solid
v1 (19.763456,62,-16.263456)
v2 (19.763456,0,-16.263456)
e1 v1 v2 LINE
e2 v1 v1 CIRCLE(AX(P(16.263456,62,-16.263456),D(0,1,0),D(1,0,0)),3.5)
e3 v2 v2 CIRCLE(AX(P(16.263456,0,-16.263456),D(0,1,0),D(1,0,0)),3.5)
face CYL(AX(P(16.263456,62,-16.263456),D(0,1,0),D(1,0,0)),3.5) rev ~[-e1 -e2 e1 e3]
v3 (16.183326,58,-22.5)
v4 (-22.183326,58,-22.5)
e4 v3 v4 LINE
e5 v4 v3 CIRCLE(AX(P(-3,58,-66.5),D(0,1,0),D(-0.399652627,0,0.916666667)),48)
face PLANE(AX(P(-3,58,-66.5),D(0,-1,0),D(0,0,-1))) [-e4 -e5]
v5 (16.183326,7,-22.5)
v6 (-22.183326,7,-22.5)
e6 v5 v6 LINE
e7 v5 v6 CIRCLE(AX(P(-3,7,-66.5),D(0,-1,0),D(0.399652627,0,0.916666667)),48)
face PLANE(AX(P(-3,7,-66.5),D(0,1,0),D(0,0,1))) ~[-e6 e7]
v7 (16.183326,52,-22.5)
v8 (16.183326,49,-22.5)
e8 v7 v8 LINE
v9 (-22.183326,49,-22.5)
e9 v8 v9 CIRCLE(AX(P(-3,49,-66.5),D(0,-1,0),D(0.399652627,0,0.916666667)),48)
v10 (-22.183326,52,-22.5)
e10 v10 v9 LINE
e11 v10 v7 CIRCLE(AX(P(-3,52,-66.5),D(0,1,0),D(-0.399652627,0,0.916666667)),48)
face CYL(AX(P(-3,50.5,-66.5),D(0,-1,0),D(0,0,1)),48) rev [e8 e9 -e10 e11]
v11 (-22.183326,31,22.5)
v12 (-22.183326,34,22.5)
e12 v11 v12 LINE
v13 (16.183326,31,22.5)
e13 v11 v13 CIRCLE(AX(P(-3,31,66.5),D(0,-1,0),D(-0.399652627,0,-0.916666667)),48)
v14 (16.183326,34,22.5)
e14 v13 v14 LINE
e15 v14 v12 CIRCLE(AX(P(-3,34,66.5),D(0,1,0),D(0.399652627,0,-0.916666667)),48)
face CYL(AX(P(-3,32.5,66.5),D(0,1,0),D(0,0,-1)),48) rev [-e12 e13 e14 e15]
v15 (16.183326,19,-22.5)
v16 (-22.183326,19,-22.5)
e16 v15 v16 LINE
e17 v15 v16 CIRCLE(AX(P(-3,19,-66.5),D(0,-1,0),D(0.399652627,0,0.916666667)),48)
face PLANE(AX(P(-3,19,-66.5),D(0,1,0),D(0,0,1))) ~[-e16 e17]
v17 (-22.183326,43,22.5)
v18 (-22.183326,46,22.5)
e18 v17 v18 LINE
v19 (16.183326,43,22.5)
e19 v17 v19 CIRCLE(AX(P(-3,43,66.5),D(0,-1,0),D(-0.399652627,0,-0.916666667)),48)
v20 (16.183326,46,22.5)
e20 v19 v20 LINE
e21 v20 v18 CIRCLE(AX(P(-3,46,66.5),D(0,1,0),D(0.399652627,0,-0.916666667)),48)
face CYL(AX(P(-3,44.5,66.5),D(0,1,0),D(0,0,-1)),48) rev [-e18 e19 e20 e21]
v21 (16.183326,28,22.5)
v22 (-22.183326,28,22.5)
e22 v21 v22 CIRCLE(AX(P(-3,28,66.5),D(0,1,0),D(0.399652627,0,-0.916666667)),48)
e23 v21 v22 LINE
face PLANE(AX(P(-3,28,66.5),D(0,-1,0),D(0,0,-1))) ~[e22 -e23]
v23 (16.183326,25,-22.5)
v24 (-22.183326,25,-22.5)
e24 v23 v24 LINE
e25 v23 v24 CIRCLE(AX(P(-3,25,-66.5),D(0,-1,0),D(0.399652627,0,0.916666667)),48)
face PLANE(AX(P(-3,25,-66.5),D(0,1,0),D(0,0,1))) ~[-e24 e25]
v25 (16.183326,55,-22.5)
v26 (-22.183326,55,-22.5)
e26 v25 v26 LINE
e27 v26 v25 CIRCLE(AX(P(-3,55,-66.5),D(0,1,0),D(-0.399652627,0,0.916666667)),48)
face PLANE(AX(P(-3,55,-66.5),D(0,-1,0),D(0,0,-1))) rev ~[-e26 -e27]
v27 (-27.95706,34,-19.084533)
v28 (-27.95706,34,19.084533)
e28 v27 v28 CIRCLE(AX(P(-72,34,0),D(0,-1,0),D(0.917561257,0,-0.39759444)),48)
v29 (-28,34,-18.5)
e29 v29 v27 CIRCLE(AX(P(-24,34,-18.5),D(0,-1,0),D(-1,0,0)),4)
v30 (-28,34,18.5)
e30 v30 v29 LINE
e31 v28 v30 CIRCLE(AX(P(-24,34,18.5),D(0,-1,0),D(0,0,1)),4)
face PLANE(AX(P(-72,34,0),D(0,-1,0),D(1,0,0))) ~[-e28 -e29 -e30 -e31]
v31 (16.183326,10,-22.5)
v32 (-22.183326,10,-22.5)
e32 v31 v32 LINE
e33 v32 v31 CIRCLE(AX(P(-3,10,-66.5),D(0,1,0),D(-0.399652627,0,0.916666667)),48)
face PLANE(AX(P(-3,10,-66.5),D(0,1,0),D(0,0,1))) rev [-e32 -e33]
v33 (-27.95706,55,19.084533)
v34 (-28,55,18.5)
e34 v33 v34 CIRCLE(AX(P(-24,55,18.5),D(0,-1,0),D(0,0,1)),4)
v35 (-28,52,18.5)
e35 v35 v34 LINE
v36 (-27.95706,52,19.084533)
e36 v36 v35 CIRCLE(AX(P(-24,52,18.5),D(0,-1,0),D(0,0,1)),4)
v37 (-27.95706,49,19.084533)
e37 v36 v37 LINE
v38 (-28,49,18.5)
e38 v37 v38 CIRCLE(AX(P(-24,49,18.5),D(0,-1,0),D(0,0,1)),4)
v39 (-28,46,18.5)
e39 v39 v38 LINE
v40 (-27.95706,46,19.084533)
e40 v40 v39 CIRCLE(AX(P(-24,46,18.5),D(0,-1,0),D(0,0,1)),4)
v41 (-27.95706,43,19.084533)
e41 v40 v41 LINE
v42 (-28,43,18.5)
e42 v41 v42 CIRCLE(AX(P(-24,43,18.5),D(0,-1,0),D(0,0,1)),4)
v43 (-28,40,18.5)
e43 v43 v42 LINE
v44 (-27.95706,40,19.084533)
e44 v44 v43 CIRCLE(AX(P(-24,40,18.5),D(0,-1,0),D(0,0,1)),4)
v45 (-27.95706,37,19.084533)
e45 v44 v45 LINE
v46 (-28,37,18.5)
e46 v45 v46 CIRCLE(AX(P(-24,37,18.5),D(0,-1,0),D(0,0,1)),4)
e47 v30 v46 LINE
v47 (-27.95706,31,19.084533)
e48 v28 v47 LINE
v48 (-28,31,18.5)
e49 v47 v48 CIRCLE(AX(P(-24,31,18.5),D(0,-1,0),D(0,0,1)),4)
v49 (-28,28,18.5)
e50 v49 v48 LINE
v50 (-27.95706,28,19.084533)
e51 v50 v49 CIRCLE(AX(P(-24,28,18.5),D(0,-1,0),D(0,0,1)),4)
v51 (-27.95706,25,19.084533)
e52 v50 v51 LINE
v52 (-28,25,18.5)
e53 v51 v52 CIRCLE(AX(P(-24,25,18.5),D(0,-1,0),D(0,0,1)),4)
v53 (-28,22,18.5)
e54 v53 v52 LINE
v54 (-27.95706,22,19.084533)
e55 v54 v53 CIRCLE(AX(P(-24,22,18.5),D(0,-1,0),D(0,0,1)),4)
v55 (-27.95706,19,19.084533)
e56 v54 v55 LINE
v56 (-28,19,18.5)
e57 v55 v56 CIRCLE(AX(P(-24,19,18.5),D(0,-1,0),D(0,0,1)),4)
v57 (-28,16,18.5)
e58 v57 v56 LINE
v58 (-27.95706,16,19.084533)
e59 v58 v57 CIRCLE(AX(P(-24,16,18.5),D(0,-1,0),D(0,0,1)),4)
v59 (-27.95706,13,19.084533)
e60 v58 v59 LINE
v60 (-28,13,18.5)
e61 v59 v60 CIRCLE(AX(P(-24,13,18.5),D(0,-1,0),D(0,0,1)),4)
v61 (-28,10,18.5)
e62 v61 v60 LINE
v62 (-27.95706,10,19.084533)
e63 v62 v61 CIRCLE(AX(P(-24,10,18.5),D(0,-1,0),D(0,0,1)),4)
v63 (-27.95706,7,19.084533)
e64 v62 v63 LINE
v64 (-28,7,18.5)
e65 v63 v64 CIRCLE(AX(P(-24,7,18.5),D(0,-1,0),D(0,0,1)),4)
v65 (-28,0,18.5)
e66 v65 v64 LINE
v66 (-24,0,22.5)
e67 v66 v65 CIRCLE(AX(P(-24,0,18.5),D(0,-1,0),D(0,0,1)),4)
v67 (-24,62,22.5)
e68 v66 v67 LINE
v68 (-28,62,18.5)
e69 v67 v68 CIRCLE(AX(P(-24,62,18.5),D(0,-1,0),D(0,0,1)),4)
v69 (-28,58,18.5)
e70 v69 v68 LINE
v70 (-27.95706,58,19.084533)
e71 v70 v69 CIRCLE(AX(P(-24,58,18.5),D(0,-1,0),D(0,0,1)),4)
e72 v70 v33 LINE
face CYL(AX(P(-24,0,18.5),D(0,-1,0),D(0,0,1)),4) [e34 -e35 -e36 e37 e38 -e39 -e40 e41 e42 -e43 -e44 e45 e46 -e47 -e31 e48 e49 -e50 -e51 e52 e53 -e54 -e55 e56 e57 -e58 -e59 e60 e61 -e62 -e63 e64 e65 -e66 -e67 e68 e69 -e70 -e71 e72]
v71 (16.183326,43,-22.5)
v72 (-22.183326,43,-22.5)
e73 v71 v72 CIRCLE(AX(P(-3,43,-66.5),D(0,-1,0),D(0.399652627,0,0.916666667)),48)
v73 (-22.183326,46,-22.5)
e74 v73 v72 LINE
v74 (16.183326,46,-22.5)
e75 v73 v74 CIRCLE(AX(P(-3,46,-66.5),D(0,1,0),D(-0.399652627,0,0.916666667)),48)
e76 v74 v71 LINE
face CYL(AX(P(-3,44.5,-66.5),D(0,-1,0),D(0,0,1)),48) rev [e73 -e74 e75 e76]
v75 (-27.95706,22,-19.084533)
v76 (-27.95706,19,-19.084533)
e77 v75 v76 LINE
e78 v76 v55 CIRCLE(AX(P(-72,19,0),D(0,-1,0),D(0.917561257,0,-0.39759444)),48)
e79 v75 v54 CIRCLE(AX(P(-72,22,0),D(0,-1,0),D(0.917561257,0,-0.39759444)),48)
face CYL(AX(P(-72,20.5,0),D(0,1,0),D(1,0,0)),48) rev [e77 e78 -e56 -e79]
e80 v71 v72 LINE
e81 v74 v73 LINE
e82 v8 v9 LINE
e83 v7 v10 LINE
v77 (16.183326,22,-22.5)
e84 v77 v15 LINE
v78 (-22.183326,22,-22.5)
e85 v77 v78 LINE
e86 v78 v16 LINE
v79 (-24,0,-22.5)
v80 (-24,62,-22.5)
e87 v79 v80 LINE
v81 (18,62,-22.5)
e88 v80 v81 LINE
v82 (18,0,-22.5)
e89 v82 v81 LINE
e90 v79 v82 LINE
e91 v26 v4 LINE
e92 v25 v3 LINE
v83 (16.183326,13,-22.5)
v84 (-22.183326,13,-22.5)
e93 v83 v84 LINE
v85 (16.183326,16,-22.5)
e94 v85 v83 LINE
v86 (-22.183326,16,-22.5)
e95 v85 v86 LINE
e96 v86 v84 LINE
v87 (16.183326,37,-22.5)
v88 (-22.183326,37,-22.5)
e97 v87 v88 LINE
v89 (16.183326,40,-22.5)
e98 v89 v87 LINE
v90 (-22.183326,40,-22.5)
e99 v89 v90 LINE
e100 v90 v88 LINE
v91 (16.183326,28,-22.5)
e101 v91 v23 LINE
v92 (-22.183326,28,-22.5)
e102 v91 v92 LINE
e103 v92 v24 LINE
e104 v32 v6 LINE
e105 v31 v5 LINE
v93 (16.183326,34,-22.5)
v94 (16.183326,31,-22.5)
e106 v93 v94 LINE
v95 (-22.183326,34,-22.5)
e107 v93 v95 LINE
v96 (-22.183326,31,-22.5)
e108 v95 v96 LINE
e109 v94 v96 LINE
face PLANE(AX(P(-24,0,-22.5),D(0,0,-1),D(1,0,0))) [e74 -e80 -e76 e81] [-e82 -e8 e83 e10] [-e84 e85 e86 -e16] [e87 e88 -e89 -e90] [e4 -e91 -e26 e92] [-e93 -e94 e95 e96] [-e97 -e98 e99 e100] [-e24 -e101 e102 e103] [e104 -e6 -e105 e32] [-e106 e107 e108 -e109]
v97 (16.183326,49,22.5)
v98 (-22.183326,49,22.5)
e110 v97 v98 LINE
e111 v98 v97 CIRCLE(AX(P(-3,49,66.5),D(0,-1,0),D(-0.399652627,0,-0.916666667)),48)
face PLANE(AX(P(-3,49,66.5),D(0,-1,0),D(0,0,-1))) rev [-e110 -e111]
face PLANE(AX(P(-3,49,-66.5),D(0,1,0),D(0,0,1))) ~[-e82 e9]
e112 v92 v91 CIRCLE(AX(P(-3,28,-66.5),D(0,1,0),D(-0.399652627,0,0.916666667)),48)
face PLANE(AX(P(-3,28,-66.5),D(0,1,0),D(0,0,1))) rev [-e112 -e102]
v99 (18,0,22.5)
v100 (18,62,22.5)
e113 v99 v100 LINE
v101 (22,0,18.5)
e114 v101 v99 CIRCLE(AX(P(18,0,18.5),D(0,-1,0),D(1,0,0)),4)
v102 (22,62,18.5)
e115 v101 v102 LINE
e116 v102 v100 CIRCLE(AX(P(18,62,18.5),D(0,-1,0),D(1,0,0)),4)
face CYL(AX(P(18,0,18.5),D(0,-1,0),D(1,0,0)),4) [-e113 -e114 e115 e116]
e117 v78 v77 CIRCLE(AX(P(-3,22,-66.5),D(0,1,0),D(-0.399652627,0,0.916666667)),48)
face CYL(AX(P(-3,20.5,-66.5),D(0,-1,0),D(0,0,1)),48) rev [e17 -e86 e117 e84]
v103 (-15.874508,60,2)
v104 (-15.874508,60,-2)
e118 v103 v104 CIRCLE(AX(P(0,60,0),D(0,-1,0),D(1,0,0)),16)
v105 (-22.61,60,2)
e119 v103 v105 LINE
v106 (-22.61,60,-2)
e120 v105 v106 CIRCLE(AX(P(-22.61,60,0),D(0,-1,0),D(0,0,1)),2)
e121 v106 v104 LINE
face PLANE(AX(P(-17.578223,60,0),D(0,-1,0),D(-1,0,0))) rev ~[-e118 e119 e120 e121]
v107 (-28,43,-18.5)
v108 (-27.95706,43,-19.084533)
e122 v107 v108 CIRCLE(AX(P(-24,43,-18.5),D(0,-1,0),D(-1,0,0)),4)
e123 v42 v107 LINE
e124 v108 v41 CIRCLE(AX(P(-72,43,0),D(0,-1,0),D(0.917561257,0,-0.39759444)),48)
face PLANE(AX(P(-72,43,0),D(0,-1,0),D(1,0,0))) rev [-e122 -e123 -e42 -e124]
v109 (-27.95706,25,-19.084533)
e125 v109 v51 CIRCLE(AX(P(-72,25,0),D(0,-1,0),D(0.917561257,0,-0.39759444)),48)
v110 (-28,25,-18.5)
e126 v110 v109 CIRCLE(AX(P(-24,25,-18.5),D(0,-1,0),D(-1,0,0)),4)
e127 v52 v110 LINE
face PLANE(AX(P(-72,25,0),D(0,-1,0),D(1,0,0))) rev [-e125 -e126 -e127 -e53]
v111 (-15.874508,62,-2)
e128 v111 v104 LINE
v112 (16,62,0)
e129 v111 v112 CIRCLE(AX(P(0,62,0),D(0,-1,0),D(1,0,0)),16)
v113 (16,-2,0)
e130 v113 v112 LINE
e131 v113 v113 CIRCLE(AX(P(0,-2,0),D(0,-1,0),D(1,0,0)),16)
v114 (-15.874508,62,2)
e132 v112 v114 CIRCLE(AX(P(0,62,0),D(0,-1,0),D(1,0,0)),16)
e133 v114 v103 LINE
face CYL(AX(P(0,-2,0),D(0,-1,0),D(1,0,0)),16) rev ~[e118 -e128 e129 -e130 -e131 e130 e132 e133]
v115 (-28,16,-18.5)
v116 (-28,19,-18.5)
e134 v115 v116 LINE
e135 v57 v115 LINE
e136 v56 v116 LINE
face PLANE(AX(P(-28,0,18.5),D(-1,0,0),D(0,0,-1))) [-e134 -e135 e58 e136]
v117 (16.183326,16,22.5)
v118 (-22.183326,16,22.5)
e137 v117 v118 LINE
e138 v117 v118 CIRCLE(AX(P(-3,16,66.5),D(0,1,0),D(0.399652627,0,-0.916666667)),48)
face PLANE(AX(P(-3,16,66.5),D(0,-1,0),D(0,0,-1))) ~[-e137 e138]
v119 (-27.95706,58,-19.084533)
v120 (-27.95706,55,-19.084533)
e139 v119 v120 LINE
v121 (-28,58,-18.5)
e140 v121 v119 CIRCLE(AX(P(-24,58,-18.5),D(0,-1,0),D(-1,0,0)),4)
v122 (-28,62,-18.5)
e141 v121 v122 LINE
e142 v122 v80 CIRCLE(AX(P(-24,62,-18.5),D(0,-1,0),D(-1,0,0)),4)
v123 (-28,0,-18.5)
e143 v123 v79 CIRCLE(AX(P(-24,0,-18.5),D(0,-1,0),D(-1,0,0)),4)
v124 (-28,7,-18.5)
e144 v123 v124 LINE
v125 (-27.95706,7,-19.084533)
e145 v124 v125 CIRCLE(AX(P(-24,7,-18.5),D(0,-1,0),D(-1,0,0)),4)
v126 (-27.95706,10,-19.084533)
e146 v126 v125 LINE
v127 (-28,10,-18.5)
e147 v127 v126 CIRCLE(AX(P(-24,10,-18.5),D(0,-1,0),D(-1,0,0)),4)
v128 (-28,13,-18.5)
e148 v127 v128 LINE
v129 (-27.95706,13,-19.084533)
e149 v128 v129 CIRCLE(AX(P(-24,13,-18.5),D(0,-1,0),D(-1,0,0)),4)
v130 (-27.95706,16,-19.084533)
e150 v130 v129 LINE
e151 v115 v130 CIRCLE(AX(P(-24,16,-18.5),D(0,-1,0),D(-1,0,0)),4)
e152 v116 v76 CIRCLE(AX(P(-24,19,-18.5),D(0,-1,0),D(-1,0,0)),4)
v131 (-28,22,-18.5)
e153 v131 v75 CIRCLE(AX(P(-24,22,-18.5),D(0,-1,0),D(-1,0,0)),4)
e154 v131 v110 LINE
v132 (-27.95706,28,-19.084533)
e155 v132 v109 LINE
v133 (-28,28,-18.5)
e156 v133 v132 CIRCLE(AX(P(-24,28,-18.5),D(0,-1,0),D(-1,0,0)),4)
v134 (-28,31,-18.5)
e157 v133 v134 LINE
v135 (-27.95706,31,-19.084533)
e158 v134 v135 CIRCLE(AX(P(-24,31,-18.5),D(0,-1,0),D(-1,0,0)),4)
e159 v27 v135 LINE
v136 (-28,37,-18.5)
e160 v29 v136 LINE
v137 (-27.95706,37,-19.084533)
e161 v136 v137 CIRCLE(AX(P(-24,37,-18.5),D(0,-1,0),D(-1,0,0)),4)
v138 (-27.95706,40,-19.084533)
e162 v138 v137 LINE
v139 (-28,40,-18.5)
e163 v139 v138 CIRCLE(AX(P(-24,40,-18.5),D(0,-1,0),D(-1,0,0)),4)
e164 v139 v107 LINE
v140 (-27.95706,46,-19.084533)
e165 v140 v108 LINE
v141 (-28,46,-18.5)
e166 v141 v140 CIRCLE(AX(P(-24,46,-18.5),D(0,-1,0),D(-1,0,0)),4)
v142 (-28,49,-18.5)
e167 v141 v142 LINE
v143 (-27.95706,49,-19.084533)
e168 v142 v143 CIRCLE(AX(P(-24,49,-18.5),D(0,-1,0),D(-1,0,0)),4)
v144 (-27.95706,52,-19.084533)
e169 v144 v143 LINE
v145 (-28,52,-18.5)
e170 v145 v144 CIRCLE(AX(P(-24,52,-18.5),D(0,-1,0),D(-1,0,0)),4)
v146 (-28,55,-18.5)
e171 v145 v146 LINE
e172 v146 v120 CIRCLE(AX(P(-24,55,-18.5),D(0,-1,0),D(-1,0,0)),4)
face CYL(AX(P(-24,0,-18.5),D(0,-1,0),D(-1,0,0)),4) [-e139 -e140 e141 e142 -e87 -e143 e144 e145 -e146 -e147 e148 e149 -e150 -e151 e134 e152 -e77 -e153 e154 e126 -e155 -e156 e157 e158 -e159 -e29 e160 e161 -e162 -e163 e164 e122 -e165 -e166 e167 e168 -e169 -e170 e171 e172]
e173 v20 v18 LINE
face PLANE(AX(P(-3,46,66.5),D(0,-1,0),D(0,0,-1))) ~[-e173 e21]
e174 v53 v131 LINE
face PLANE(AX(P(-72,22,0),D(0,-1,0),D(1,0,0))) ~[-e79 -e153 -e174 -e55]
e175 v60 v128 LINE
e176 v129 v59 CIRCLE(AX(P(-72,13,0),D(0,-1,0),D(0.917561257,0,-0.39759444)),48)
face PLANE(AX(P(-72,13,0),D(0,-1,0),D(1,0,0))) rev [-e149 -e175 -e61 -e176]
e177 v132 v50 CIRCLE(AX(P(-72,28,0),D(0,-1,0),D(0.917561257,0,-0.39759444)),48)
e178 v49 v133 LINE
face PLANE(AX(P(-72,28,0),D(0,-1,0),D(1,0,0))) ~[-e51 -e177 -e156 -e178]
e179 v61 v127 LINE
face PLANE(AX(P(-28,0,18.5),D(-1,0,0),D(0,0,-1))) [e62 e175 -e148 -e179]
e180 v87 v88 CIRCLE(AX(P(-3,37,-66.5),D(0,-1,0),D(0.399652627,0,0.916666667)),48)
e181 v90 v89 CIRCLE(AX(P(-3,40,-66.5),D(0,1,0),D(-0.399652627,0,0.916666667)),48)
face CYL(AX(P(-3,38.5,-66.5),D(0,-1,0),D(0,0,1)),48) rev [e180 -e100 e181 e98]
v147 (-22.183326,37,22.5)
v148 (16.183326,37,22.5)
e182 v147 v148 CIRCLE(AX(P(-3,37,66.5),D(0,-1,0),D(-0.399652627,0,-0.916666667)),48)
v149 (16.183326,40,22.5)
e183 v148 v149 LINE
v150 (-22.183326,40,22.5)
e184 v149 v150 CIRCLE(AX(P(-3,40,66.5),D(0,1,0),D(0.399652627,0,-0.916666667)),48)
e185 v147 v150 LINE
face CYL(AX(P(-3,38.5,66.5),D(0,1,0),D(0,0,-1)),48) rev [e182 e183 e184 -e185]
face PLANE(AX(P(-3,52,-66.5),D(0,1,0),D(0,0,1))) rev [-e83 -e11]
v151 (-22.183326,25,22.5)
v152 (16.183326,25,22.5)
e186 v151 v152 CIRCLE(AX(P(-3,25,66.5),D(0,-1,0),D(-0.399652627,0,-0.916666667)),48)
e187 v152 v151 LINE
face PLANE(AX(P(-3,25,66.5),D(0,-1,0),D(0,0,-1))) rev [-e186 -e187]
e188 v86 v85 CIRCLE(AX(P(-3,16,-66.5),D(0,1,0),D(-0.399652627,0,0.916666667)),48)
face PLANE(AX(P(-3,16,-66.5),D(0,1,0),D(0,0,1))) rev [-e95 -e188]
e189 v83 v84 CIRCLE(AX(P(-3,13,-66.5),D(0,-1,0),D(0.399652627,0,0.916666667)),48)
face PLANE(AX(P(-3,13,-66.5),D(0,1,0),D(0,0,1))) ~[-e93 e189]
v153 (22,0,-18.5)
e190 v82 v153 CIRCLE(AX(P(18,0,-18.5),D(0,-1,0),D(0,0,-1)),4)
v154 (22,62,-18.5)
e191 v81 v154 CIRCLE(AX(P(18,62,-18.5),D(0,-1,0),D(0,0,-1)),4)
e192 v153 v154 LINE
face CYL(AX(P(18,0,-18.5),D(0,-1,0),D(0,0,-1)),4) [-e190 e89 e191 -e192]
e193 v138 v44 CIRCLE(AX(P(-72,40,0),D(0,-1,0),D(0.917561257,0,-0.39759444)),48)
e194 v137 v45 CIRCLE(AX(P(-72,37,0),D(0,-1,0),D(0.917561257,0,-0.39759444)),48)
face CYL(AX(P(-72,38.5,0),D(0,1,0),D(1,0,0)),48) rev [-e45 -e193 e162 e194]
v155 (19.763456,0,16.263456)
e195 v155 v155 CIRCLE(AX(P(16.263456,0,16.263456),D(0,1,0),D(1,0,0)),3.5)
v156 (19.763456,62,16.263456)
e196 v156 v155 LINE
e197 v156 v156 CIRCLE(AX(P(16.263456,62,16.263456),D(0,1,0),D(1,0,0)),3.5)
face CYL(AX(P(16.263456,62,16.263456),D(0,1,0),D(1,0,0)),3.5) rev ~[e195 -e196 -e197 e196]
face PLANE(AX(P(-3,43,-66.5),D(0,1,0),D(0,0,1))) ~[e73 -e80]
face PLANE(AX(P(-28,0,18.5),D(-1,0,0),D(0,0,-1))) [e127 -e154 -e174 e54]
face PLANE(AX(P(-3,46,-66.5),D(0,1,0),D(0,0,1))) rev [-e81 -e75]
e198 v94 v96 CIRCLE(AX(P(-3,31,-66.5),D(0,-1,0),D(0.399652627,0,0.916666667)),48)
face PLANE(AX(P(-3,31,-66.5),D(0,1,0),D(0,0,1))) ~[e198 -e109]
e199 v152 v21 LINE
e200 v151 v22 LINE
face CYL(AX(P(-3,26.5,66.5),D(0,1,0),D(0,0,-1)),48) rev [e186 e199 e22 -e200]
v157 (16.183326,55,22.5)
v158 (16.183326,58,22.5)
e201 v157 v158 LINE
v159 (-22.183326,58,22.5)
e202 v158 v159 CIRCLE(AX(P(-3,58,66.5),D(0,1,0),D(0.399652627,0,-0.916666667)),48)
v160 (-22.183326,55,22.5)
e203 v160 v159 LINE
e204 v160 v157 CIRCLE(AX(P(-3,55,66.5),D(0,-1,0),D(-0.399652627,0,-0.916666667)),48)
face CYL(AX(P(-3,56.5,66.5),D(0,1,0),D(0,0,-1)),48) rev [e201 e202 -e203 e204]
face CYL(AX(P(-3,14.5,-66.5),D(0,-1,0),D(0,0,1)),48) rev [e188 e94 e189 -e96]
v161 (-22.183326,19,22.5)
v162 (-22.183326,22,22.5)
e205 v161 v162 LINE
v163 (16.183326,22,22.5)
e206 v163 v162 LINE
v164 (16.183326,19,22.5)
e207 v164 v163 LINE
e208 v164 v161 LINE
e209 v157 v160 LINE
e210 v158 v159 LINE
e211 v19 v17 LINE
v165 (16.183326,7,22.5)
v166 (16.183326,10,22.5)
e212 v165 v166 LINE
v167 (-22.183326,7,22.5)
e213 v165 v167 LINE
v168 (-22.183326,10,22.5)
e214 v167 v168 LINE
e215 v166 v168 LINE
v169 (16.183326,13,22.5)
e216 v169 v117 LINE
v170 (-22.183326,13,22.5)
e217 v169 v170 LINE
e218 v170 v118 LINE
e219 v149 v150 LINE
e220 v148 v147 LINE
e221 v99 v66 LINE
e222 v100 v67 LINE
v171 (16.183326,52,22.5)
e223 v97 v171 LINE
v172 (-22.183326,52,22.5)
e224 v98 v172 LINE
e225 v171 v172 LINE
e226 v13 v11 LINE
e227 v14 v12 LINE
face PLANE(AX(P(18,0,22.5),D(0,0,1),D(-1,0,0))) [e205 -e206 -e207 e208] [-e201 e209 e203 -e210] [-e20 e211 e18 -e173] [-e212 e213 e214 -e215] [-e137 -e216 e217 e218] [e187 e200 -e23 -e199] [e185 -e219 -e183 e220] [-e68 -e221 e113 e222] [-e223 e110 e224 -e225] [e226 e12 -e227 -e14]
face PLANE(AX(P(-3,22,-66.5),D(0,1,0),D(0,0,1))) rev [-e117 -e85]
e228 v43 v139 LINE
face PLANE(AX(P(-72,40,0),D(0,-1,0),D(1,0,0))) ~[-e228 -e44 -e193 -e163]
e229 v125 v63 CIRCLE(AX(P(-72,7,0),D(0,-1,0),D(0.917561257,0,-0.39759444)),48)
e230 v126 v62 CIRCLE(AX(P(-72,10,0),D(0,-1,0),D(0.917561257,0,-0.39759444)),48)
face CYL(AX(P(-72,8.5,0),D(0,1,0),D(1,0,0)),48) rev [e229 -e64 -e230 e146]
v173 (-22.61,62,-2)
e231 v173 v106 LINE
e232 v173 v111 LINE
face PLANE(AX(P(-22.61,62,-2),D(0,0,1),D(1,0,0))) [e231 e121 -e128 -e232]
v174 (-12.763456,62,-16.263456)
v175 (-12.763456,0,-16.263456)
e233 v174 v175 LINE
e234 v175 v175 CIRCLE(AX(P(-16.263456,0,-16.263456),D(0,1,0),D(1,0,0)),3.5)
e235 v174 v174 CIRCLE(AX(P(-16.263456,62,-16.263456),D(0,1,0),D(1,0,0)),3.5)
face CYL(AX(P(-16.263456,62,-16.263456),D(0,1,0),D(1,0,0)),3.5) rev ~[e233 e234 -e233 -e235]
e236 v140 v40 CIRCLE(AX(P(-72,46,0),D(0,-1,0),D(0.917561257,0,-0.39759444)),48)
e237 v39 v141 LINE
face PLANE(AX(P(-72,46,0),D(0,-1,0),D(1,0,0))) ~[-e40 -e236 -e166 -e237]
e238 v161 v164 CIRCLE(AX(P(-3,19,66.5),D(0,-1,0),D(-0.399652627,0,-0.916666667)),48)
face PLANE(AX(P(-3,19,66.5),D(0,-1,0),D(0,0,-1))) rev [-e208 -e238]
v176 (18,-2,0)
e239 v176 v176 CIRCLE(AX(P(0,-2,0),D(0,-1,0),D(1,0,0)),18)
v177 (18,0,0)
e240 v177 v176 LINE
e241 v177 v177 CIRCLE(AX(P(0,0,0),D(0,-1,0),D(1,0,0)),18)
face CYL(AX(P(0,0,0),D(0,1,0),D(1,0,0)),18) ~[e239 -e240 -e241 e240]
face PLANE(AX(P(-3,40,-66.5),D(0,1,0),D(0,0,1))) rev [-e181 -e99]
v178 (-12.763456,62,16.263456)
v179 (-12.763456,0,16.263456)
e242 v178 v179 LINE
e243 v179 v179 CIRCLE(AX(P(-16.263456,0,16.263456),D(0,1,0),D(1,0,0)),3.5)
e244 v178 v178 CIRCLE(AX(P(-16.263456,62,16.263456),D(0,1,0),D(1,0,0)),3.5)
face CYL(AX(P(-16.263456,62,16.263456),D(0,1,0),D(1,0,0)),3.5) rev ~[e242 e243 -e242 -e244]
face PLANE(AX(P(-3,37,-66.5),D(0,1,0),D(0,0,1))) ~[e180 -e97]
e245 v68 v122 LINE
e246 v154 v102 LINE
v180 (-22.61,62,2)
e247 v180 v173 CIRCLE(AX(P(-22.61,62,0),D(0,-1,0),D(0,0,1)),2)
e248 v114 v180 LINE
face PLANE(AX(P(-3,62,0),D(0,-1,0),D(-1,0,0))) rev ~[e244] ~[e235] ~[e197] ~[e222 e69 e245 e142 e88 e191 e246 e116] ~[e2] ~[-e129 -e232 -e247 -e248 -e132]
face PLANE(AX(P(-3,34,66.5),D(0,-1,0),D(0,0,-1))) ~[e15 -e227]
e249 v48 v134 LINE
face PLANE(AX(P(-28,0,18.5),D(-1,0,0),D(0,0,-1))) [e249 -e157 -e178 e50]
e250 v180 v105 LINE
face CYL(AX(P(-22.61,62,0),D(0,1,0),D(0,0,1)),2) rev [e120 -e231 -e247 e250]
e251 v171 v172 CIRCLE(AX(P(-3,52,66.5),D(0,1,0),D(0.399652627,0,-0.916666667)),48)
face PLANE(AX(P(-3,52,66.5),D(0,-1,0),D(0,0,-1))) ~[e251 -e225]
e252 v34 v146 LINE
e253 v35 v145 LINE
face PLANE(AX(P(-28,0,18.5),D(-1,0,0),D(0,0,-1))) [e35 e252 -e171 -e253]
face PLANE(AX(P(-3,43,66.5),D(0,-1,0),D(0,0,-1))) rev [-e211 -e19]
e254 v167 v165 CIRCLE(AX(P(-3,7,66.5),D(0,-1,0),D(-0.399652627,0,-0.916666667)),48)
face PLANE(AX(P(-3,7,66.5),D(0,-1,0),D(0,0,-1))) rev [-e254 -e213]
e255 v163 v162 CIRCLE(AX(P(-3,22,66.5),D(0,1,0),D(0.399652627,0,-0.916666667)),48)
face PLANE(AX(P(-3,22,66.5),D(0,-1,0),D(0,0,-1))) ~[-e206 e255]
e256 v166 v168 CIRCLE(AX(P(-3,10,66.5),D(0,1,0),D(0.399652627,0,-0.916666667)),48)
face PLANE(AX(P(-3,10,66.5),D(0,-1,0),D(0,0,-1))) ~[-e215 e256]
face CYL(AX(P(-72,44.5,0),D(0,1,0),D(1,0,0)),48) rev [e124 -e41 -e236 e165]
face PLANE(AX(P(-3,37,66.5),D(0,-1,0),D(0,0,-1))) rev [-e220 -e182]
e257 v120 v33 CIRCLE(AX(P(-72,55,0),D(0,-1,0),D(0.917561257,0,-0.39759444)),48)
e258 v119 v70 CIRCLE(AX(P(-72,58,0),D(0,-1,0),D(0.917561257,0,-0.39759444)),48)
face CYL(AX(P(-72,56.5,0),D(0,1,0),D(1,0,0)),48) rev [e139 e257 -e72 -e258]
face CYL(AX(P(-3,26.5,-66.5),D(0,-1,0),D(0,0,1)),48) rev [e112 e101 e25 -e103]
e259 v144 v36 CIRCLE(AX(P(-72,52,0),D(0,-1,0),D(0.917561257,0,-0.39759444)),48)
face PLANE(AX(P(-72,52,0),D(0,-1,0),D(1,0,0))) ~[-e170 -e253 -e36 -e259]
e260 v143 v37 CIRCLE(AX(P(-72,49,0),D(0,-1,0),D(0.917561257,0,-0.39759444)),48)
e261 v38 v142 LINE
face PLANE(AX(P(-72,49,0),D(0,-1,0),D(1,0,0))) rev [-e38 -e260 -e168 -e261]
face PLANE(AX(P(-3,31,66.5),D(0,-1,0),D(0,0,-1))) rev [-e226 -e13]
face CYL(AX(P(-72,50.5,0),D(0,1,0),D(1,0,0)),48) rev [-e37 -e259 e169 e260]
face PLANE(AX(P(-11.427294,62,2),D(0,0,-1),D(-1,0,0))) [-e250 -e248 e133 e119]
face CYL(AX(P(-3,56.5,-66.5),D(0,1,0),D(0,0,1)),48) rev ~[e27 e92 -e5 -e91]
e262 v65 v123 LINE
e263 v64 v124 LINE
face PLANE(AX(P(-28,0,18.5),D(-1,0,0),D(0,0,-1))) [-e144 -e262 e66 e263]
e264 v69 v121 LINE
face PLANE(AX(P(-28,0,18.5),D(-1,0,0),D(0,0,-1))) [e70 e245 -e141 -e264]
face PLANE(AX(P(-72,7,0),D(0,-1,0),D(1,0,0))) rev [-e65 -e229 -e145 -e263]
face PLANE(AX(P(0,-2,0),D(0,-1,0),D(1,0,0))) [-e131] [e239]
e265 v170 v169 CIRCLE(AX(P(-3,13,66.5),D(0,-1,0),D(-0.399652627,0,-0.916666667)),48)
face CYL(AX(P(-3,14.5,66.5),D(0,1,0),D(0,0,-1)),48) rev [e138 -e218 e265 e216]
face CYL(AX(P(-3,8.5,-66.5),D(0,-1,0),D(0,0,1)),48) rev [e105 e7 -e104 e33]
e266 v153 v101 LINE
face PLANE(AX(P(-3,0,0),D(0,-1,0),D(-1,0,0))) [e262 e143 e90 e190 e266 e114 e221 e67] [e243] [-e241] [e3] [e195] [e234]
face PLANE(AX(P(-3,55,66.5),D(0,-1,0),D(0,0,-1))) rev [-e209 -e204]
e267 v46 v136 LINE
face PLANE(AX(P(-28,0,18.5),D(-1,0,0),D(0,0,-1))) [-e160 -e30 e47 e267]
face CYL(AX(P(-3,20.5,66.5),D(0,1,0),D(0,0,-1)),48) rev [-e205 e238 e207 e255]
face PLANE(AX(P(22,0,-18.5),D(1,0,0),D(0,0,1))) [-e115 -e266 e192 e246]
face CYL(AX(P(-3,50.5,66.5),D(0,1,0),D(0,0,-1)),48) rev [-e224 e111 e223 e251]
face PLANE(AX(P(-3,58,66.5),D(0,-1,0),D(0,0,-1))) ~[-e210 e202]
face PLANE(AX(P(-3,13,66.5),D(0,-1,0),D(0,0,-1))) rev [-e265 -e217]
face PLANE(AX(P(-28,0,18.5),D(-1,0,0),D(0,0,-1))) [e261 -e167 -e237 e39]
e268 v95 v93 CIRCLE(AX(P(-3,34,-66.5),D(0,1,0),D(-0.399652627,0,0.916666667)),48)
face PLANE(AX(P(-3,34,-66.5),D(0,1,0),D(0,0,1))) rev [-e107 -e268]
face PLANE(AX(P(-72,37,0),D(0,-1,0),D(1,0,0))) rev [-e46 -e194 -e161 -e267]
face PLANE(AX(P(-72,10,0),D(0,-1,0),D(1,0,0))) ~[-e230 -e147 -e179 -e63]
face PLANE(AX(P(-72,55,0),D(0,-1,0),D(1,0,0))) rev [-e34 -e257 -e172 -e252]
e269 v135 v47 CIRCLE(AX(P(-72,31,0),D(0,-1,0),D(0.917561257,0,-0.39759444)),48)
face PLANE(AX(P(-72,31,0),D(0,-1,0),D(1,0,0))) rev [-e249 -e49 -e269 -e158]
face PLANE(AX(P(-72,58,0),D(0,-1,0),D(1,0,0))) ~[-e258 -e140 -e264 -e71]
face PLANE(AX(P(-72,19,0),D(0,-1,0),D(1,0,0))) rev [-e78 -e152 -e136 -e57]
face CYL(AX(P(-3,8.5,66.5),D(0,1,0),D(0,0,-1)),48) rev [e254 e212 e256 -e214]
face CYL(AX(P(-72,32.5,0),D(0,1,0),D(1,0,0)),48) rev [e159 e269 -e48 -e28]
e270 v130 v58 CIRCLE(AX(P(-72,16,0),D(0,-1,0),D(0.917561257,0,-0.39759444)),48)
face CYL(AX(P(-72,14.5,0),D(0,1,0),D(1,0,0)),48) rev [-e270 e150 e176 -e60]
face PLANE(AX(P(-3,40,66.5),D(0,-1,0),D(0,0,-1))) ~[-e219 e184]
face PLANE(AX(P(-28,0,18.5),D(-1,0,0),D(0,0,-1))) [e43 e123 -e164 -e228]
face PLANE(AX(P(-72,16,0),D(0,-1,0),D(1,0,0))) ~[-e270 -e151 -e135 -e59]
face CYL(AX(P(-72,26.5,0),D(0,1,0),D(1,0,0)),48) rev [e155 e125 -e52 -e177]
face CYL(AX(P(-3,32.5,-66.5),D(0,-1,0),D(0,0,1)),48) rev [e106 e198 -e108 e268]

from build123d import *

# Parameters (mm, degrees)
BOSS_EXTRUDE1_DEPTH     = 62
SKETCH2_R               = 18
BOSS_EXTRUDE2_DEPTH     = 2
SKETCH3_R               = 16
CUT_EXTRUDE1_DEPTH      = 65
CUT_EXTRUDE2_DEPTH      = 2
SKETCH6_R               = 3.5
CUT_EXTRUDE3_DEPTH      = 65
SKETCH7_W               = 48
SKETCH7_H               = 3
LPATTERN1_COUNT         = 9
LPATTERN1_PITCH         = 6
MIRROR1_COPY_1_SKETCH_W = 48
MIRROR1_COPY_1_SKETCH_H = 3
MIRROR1_COPY_2_SKETCH_W = 48
MIRROR1_COPY_2_SKETCH_H = 3
MIRROR1_COPY_3_SKETCH_W = 48
MIRROR1_COPY_3_SKETCH_H = 3
MIRROR1_COPY_4_SKETCH_W = 48
MIRROR1_COPY_4_SKETCH_H = 3
MIRROR1_COPY_5_SKETCH_W = 48
MIRROR1_COPY_5_SKETCH_H = 3
MIRROR1_COPY_6_SKETCH_W = 48
MIRROR1_COPY_6_SKETCH_H = 3
MIRROR1_COPY_7_SKETCH_W = 48
MIRROR1_COPY_7_SKETCH_H = 3
MIRROR1_COPY_8_SKETCH_W = 48
MIRROR1_COPY_8_SKETCH_H = 3
SKETCH9_W               = 48
SKETCH9_H               = 3
LPATTERN2_COUNT         = 9
LPATTERN2_PITCH         = 6


with BuildPart() as part:
    # Sketch1 → Boss-Extrude1 (new body)
    with BuildSketch(Plane(origin=(0, 0, 0), x_dir=(1, 0, 0), z_dir=(0, 1, 0))):
        with BuildLine():
            Line((-24, 22.5), (18, 22.5))
            ThreePointArc((18, 22.5), (20.828427125, 21.328427125), (22, 18.5))
            Line((22, 18.5), (22, -18.5))
            ThreePointArc((22, -18.5), (20.828427125, -21.328427125), (18, -22.5))
            Line((18, -22.5), (-24, -22.5))
            ThreePointArc((-24, -22.5), (-26.828427125, -21.328427125), (-28, -18.5))
            Line((-28, -18.5), (-28, 18.5))
            ThreePointArc((-28, 18.5), (-26.828427125, 21.328427125), (-24, 22.5))
        make_face()
    extrude(amount=BOSS_EXTRUDE1_DEPTH)

    # Sketch2 → Boss-Extrude2 (add)
    with BuildSketch(Plane.XZ):
        Circle(SKETCH2_R)
    extrude(amount=BOSS_EXTRUDE2_DEPTH)

    # Sketch3 → Cut-Extrude1 (cut, through all)
    with BuildSketch(Plane.XZ.offset(2)):
        Circle(SKETCH3_R)
    extrude(amount=-CUT_EXTRUDE1_DEPTH, mode=Mode.SUBTRACT)

    # Sketch5 → Cut-Extrude2 (cut)
    with BuildSketch(Plane(origin=(0, 62, 0), x_dir=(1, 0, 0), z_dir=(0, 1, 0))):
        with BuildLine():
            Line((-22.61, 2), (-11.427293838, 2))
            Line((-11.427293838, 2), (-11.427293838, -2))
            Line((-11.427293838, -2), (-22.61, -2))
            ThreePointArc((-22.61, -2), (-24.61, 0), (-22.61, 2))
        make_face()
    extrude(amount=-CUT_EXTRUDE2_DEPTH, mode=Mode.SUBTRACT)

    # Sketch6 → Cut-Extrude3 (cut, through all)
    with BuildSketch(Plane(origin=(0, 62, 0), x_dir=(1, 0, 0), z_dir=(0, 1, 0))):
        with Locations((16.263455967, 16.263455967)):
            Circle(SKETCH6_R)
        with Locations((16.263455967, -16.263455967)):
            Circle(SKETCH6_R)
        with Locations((-16.263455967, -16.263455967)):
            Circle(SKETCH6_R)
        with Locations((-16.263455967, 16.263455967)):
            Circle(SKETCH6_R)
    extrude(amount=-CUT_EXTRUDE3_DEPTH, mode=Mode.SUBTRACT)

    # Sketch7 → Cut-Revolve1 (revolve, cut)
    with BuildSketch(Plane(origin=(-3, 0, 0), x_dir=(0, 0, -1), z_dir=(1, 0, 0))):
        with Locations((-42.5, 56.5)):
            Rectangle(SKETCH7_W, SKETCH7_H)
    cut_revolve1 = revolve(axis=Axis((-3, 58, 66.5), (0, -1, 0)), mode=Mode.SUBTRACT)

    # LPattern1: Cut-Revolve1 ×9
    with Locations(*[(0, -i * LPATTERN1_PITCH, 0) for i in range(1, LPATTERN1_COUNT)]):
        add(cut_revolve1, mode=Mode.SUBTRACT)

    # Mirror1: Cut-Revolve1 across plane
    add(cut_revolve1.mirror(Plane.XY), mode=Mode.SUBTRACT)

    # Mirror1 copy 1 sketch → Mirror1 copy 1 (revolve, cut)
    with BuildSketch(Plane(origin=(-3, -6, 0), x_dir=(0, 0, 1), z_dir=(1, 0, 0))):
        with Locations((-42.5, -56.5)):
            Rectangle(MIRROR1_COPY_1_SKETCH_W, MIRROR1_COPY_1_SKETCH_H)
    revolve(axis=Axis((-3, 52, -66.5), (0, 1, 0)), mode=Mode.SUBTRACT)

    # Mirror1 copy 2 sketch → Mirror1 copy 2 (revolve, cut)
    with BuildSketch(Plane(origin=(-3, -12, 0), x_dir=(0, 0, 1), z_dir=(1, 0, 0))):
        with Locations((-42.5, -56.5)):
            Rectangle(MIRROR1_COPY_2_SKETCH_W, MIRROR1_COPY_2_SKETCH_H)
    revolve(axis=Axis((-3, 46, -66.5), (0, 1, 0)), mode=Mode.SUBTRACT)

    # Mirror1 copy 3 sketch → Mirror1 copy 3 (revolve, cut)
    with BuildSketch(Plane(origin=(-3, -18, 0), x_dir=(0, 0, 1), z_dir=(1, 0, 0))):
        with Locations((-42.5, -56.5)):
            Rectangle(MIRROR1_COPY_3_SKETCH_W, MIRROR1_COPY_3_SKETCH_H)
    revolve(axis=Axis((-3, 40, -66.5), (0, 1, 0)), mode=Mode.SUBTRACT)

    # Mirror1 copy 4 sketch → Mirror1 copy 4 (revolve, cut)
    with BuildSketch(Plane(origin=(-3, -24, 0), x_dir=(0, 0, 1), z_dir=(1, 0, 0))):
        with Locations((-42.5, -56.5)):
            Rectangle(MIRROR1_COPY_4_SKETCH_W, MIRROR1_COPY_4_SKETCH_H)
    revolve(axis=Axis((-3, 34, -66.5), (0, 1, 0)), mode=Mode.SUBTRACT)

    # Mirror1 copy 5 sketch → Mirror1 copy 5 (revolve, cut)
    with BuildSketch(Plane(origin=(-3, -30, 0), x_dir=(0, 0, 1), z_dir=(1, 0, 0))):
        with Locations((-42.5, -56.5)):
            Rectangle(MIRROR1_COPY_5_SKETCH_W, MIRROR1_COPY_5_SKETCH_H)
    revolve(axis=Axis((-3, 28, -66.5), (0, 1, 0)), mode=Mode.SUBTRACT)

    # Mirror1 copy 6 sketch → Mirror1 copy 6 (revolve, cut)
    with BuildSketch(Plane(origin=(-3, -36, 0), x_dir=(0, 0, 1), z_dir=(1, 0, 0))):
        with Locations((-42.5, -56.5)):
            Rectangle(MIRROR1_COPY_6_SKETCH_W, MIRROR1_COPY_6_SKETCH_H)
    revolve(axis=Axis((-3, 22, -66.5), (0, 1, 0)), mode=Mode.SUBTRACT)

    # Mirror1 copy 7 sketch → Mirror1 copy 7 (revolve, cut)
    with BuildSketch(Plane(origin=(-3, -42, 0), x_dir=(0, 0, 1), z_dir=(1, 0, 0))):
        with Locations((-42.5, -56.5)):
            Rectangle(MIRROR1_COPY_7_SKETCH_W, MIRROR1_COPY_7_SKETCH_H)
    revolve(axis=Axis((-3, 16, -66.5), (0, 1, 0)), mode=Mode.SUBTRACT)

    # Mirror1 copy 8 sketch → Mirror1 copy 8 (revolve, cut)
    with BuildSketch(Plane(origin=(-3, -48, 0), x_dir=(0, 0, 1), z_dir=(1, 0, 0))):
        with Locations((-42.5, -56.5)):
            Rectangle(MIRROR1_COPY_8_SKETCH_W, MIRROR1_COPY_8_SKETCH_H)
    revolve(axis=Axis((-3, 10, -66.5), (0, 1, 0)), mode=Mode.SUBTRACT)

    # Sketch9 → Cut-Revolve3 (revolve, cut)
    with BuildSketch(Plane.XY):
        with Locations((-48, 56.5)):
            Rectangle(SKETCH9_W, SKETCH9_H)
    cut_revolve3 = revolve(axis=Axis((-72, 58, 0), (0, -1, 0)), mode=Mode.SUBTRACT)

    # LPattern2: Cut-Revolve3 ×9
    with Locations(*[(0, -i * LPATTERN2_PITCH, 0) for i in range(1, LPATTERN2_COUNT)]):
        add(cut_revolve3, mode=Mode.SUBTRACT)


solid = part.part
